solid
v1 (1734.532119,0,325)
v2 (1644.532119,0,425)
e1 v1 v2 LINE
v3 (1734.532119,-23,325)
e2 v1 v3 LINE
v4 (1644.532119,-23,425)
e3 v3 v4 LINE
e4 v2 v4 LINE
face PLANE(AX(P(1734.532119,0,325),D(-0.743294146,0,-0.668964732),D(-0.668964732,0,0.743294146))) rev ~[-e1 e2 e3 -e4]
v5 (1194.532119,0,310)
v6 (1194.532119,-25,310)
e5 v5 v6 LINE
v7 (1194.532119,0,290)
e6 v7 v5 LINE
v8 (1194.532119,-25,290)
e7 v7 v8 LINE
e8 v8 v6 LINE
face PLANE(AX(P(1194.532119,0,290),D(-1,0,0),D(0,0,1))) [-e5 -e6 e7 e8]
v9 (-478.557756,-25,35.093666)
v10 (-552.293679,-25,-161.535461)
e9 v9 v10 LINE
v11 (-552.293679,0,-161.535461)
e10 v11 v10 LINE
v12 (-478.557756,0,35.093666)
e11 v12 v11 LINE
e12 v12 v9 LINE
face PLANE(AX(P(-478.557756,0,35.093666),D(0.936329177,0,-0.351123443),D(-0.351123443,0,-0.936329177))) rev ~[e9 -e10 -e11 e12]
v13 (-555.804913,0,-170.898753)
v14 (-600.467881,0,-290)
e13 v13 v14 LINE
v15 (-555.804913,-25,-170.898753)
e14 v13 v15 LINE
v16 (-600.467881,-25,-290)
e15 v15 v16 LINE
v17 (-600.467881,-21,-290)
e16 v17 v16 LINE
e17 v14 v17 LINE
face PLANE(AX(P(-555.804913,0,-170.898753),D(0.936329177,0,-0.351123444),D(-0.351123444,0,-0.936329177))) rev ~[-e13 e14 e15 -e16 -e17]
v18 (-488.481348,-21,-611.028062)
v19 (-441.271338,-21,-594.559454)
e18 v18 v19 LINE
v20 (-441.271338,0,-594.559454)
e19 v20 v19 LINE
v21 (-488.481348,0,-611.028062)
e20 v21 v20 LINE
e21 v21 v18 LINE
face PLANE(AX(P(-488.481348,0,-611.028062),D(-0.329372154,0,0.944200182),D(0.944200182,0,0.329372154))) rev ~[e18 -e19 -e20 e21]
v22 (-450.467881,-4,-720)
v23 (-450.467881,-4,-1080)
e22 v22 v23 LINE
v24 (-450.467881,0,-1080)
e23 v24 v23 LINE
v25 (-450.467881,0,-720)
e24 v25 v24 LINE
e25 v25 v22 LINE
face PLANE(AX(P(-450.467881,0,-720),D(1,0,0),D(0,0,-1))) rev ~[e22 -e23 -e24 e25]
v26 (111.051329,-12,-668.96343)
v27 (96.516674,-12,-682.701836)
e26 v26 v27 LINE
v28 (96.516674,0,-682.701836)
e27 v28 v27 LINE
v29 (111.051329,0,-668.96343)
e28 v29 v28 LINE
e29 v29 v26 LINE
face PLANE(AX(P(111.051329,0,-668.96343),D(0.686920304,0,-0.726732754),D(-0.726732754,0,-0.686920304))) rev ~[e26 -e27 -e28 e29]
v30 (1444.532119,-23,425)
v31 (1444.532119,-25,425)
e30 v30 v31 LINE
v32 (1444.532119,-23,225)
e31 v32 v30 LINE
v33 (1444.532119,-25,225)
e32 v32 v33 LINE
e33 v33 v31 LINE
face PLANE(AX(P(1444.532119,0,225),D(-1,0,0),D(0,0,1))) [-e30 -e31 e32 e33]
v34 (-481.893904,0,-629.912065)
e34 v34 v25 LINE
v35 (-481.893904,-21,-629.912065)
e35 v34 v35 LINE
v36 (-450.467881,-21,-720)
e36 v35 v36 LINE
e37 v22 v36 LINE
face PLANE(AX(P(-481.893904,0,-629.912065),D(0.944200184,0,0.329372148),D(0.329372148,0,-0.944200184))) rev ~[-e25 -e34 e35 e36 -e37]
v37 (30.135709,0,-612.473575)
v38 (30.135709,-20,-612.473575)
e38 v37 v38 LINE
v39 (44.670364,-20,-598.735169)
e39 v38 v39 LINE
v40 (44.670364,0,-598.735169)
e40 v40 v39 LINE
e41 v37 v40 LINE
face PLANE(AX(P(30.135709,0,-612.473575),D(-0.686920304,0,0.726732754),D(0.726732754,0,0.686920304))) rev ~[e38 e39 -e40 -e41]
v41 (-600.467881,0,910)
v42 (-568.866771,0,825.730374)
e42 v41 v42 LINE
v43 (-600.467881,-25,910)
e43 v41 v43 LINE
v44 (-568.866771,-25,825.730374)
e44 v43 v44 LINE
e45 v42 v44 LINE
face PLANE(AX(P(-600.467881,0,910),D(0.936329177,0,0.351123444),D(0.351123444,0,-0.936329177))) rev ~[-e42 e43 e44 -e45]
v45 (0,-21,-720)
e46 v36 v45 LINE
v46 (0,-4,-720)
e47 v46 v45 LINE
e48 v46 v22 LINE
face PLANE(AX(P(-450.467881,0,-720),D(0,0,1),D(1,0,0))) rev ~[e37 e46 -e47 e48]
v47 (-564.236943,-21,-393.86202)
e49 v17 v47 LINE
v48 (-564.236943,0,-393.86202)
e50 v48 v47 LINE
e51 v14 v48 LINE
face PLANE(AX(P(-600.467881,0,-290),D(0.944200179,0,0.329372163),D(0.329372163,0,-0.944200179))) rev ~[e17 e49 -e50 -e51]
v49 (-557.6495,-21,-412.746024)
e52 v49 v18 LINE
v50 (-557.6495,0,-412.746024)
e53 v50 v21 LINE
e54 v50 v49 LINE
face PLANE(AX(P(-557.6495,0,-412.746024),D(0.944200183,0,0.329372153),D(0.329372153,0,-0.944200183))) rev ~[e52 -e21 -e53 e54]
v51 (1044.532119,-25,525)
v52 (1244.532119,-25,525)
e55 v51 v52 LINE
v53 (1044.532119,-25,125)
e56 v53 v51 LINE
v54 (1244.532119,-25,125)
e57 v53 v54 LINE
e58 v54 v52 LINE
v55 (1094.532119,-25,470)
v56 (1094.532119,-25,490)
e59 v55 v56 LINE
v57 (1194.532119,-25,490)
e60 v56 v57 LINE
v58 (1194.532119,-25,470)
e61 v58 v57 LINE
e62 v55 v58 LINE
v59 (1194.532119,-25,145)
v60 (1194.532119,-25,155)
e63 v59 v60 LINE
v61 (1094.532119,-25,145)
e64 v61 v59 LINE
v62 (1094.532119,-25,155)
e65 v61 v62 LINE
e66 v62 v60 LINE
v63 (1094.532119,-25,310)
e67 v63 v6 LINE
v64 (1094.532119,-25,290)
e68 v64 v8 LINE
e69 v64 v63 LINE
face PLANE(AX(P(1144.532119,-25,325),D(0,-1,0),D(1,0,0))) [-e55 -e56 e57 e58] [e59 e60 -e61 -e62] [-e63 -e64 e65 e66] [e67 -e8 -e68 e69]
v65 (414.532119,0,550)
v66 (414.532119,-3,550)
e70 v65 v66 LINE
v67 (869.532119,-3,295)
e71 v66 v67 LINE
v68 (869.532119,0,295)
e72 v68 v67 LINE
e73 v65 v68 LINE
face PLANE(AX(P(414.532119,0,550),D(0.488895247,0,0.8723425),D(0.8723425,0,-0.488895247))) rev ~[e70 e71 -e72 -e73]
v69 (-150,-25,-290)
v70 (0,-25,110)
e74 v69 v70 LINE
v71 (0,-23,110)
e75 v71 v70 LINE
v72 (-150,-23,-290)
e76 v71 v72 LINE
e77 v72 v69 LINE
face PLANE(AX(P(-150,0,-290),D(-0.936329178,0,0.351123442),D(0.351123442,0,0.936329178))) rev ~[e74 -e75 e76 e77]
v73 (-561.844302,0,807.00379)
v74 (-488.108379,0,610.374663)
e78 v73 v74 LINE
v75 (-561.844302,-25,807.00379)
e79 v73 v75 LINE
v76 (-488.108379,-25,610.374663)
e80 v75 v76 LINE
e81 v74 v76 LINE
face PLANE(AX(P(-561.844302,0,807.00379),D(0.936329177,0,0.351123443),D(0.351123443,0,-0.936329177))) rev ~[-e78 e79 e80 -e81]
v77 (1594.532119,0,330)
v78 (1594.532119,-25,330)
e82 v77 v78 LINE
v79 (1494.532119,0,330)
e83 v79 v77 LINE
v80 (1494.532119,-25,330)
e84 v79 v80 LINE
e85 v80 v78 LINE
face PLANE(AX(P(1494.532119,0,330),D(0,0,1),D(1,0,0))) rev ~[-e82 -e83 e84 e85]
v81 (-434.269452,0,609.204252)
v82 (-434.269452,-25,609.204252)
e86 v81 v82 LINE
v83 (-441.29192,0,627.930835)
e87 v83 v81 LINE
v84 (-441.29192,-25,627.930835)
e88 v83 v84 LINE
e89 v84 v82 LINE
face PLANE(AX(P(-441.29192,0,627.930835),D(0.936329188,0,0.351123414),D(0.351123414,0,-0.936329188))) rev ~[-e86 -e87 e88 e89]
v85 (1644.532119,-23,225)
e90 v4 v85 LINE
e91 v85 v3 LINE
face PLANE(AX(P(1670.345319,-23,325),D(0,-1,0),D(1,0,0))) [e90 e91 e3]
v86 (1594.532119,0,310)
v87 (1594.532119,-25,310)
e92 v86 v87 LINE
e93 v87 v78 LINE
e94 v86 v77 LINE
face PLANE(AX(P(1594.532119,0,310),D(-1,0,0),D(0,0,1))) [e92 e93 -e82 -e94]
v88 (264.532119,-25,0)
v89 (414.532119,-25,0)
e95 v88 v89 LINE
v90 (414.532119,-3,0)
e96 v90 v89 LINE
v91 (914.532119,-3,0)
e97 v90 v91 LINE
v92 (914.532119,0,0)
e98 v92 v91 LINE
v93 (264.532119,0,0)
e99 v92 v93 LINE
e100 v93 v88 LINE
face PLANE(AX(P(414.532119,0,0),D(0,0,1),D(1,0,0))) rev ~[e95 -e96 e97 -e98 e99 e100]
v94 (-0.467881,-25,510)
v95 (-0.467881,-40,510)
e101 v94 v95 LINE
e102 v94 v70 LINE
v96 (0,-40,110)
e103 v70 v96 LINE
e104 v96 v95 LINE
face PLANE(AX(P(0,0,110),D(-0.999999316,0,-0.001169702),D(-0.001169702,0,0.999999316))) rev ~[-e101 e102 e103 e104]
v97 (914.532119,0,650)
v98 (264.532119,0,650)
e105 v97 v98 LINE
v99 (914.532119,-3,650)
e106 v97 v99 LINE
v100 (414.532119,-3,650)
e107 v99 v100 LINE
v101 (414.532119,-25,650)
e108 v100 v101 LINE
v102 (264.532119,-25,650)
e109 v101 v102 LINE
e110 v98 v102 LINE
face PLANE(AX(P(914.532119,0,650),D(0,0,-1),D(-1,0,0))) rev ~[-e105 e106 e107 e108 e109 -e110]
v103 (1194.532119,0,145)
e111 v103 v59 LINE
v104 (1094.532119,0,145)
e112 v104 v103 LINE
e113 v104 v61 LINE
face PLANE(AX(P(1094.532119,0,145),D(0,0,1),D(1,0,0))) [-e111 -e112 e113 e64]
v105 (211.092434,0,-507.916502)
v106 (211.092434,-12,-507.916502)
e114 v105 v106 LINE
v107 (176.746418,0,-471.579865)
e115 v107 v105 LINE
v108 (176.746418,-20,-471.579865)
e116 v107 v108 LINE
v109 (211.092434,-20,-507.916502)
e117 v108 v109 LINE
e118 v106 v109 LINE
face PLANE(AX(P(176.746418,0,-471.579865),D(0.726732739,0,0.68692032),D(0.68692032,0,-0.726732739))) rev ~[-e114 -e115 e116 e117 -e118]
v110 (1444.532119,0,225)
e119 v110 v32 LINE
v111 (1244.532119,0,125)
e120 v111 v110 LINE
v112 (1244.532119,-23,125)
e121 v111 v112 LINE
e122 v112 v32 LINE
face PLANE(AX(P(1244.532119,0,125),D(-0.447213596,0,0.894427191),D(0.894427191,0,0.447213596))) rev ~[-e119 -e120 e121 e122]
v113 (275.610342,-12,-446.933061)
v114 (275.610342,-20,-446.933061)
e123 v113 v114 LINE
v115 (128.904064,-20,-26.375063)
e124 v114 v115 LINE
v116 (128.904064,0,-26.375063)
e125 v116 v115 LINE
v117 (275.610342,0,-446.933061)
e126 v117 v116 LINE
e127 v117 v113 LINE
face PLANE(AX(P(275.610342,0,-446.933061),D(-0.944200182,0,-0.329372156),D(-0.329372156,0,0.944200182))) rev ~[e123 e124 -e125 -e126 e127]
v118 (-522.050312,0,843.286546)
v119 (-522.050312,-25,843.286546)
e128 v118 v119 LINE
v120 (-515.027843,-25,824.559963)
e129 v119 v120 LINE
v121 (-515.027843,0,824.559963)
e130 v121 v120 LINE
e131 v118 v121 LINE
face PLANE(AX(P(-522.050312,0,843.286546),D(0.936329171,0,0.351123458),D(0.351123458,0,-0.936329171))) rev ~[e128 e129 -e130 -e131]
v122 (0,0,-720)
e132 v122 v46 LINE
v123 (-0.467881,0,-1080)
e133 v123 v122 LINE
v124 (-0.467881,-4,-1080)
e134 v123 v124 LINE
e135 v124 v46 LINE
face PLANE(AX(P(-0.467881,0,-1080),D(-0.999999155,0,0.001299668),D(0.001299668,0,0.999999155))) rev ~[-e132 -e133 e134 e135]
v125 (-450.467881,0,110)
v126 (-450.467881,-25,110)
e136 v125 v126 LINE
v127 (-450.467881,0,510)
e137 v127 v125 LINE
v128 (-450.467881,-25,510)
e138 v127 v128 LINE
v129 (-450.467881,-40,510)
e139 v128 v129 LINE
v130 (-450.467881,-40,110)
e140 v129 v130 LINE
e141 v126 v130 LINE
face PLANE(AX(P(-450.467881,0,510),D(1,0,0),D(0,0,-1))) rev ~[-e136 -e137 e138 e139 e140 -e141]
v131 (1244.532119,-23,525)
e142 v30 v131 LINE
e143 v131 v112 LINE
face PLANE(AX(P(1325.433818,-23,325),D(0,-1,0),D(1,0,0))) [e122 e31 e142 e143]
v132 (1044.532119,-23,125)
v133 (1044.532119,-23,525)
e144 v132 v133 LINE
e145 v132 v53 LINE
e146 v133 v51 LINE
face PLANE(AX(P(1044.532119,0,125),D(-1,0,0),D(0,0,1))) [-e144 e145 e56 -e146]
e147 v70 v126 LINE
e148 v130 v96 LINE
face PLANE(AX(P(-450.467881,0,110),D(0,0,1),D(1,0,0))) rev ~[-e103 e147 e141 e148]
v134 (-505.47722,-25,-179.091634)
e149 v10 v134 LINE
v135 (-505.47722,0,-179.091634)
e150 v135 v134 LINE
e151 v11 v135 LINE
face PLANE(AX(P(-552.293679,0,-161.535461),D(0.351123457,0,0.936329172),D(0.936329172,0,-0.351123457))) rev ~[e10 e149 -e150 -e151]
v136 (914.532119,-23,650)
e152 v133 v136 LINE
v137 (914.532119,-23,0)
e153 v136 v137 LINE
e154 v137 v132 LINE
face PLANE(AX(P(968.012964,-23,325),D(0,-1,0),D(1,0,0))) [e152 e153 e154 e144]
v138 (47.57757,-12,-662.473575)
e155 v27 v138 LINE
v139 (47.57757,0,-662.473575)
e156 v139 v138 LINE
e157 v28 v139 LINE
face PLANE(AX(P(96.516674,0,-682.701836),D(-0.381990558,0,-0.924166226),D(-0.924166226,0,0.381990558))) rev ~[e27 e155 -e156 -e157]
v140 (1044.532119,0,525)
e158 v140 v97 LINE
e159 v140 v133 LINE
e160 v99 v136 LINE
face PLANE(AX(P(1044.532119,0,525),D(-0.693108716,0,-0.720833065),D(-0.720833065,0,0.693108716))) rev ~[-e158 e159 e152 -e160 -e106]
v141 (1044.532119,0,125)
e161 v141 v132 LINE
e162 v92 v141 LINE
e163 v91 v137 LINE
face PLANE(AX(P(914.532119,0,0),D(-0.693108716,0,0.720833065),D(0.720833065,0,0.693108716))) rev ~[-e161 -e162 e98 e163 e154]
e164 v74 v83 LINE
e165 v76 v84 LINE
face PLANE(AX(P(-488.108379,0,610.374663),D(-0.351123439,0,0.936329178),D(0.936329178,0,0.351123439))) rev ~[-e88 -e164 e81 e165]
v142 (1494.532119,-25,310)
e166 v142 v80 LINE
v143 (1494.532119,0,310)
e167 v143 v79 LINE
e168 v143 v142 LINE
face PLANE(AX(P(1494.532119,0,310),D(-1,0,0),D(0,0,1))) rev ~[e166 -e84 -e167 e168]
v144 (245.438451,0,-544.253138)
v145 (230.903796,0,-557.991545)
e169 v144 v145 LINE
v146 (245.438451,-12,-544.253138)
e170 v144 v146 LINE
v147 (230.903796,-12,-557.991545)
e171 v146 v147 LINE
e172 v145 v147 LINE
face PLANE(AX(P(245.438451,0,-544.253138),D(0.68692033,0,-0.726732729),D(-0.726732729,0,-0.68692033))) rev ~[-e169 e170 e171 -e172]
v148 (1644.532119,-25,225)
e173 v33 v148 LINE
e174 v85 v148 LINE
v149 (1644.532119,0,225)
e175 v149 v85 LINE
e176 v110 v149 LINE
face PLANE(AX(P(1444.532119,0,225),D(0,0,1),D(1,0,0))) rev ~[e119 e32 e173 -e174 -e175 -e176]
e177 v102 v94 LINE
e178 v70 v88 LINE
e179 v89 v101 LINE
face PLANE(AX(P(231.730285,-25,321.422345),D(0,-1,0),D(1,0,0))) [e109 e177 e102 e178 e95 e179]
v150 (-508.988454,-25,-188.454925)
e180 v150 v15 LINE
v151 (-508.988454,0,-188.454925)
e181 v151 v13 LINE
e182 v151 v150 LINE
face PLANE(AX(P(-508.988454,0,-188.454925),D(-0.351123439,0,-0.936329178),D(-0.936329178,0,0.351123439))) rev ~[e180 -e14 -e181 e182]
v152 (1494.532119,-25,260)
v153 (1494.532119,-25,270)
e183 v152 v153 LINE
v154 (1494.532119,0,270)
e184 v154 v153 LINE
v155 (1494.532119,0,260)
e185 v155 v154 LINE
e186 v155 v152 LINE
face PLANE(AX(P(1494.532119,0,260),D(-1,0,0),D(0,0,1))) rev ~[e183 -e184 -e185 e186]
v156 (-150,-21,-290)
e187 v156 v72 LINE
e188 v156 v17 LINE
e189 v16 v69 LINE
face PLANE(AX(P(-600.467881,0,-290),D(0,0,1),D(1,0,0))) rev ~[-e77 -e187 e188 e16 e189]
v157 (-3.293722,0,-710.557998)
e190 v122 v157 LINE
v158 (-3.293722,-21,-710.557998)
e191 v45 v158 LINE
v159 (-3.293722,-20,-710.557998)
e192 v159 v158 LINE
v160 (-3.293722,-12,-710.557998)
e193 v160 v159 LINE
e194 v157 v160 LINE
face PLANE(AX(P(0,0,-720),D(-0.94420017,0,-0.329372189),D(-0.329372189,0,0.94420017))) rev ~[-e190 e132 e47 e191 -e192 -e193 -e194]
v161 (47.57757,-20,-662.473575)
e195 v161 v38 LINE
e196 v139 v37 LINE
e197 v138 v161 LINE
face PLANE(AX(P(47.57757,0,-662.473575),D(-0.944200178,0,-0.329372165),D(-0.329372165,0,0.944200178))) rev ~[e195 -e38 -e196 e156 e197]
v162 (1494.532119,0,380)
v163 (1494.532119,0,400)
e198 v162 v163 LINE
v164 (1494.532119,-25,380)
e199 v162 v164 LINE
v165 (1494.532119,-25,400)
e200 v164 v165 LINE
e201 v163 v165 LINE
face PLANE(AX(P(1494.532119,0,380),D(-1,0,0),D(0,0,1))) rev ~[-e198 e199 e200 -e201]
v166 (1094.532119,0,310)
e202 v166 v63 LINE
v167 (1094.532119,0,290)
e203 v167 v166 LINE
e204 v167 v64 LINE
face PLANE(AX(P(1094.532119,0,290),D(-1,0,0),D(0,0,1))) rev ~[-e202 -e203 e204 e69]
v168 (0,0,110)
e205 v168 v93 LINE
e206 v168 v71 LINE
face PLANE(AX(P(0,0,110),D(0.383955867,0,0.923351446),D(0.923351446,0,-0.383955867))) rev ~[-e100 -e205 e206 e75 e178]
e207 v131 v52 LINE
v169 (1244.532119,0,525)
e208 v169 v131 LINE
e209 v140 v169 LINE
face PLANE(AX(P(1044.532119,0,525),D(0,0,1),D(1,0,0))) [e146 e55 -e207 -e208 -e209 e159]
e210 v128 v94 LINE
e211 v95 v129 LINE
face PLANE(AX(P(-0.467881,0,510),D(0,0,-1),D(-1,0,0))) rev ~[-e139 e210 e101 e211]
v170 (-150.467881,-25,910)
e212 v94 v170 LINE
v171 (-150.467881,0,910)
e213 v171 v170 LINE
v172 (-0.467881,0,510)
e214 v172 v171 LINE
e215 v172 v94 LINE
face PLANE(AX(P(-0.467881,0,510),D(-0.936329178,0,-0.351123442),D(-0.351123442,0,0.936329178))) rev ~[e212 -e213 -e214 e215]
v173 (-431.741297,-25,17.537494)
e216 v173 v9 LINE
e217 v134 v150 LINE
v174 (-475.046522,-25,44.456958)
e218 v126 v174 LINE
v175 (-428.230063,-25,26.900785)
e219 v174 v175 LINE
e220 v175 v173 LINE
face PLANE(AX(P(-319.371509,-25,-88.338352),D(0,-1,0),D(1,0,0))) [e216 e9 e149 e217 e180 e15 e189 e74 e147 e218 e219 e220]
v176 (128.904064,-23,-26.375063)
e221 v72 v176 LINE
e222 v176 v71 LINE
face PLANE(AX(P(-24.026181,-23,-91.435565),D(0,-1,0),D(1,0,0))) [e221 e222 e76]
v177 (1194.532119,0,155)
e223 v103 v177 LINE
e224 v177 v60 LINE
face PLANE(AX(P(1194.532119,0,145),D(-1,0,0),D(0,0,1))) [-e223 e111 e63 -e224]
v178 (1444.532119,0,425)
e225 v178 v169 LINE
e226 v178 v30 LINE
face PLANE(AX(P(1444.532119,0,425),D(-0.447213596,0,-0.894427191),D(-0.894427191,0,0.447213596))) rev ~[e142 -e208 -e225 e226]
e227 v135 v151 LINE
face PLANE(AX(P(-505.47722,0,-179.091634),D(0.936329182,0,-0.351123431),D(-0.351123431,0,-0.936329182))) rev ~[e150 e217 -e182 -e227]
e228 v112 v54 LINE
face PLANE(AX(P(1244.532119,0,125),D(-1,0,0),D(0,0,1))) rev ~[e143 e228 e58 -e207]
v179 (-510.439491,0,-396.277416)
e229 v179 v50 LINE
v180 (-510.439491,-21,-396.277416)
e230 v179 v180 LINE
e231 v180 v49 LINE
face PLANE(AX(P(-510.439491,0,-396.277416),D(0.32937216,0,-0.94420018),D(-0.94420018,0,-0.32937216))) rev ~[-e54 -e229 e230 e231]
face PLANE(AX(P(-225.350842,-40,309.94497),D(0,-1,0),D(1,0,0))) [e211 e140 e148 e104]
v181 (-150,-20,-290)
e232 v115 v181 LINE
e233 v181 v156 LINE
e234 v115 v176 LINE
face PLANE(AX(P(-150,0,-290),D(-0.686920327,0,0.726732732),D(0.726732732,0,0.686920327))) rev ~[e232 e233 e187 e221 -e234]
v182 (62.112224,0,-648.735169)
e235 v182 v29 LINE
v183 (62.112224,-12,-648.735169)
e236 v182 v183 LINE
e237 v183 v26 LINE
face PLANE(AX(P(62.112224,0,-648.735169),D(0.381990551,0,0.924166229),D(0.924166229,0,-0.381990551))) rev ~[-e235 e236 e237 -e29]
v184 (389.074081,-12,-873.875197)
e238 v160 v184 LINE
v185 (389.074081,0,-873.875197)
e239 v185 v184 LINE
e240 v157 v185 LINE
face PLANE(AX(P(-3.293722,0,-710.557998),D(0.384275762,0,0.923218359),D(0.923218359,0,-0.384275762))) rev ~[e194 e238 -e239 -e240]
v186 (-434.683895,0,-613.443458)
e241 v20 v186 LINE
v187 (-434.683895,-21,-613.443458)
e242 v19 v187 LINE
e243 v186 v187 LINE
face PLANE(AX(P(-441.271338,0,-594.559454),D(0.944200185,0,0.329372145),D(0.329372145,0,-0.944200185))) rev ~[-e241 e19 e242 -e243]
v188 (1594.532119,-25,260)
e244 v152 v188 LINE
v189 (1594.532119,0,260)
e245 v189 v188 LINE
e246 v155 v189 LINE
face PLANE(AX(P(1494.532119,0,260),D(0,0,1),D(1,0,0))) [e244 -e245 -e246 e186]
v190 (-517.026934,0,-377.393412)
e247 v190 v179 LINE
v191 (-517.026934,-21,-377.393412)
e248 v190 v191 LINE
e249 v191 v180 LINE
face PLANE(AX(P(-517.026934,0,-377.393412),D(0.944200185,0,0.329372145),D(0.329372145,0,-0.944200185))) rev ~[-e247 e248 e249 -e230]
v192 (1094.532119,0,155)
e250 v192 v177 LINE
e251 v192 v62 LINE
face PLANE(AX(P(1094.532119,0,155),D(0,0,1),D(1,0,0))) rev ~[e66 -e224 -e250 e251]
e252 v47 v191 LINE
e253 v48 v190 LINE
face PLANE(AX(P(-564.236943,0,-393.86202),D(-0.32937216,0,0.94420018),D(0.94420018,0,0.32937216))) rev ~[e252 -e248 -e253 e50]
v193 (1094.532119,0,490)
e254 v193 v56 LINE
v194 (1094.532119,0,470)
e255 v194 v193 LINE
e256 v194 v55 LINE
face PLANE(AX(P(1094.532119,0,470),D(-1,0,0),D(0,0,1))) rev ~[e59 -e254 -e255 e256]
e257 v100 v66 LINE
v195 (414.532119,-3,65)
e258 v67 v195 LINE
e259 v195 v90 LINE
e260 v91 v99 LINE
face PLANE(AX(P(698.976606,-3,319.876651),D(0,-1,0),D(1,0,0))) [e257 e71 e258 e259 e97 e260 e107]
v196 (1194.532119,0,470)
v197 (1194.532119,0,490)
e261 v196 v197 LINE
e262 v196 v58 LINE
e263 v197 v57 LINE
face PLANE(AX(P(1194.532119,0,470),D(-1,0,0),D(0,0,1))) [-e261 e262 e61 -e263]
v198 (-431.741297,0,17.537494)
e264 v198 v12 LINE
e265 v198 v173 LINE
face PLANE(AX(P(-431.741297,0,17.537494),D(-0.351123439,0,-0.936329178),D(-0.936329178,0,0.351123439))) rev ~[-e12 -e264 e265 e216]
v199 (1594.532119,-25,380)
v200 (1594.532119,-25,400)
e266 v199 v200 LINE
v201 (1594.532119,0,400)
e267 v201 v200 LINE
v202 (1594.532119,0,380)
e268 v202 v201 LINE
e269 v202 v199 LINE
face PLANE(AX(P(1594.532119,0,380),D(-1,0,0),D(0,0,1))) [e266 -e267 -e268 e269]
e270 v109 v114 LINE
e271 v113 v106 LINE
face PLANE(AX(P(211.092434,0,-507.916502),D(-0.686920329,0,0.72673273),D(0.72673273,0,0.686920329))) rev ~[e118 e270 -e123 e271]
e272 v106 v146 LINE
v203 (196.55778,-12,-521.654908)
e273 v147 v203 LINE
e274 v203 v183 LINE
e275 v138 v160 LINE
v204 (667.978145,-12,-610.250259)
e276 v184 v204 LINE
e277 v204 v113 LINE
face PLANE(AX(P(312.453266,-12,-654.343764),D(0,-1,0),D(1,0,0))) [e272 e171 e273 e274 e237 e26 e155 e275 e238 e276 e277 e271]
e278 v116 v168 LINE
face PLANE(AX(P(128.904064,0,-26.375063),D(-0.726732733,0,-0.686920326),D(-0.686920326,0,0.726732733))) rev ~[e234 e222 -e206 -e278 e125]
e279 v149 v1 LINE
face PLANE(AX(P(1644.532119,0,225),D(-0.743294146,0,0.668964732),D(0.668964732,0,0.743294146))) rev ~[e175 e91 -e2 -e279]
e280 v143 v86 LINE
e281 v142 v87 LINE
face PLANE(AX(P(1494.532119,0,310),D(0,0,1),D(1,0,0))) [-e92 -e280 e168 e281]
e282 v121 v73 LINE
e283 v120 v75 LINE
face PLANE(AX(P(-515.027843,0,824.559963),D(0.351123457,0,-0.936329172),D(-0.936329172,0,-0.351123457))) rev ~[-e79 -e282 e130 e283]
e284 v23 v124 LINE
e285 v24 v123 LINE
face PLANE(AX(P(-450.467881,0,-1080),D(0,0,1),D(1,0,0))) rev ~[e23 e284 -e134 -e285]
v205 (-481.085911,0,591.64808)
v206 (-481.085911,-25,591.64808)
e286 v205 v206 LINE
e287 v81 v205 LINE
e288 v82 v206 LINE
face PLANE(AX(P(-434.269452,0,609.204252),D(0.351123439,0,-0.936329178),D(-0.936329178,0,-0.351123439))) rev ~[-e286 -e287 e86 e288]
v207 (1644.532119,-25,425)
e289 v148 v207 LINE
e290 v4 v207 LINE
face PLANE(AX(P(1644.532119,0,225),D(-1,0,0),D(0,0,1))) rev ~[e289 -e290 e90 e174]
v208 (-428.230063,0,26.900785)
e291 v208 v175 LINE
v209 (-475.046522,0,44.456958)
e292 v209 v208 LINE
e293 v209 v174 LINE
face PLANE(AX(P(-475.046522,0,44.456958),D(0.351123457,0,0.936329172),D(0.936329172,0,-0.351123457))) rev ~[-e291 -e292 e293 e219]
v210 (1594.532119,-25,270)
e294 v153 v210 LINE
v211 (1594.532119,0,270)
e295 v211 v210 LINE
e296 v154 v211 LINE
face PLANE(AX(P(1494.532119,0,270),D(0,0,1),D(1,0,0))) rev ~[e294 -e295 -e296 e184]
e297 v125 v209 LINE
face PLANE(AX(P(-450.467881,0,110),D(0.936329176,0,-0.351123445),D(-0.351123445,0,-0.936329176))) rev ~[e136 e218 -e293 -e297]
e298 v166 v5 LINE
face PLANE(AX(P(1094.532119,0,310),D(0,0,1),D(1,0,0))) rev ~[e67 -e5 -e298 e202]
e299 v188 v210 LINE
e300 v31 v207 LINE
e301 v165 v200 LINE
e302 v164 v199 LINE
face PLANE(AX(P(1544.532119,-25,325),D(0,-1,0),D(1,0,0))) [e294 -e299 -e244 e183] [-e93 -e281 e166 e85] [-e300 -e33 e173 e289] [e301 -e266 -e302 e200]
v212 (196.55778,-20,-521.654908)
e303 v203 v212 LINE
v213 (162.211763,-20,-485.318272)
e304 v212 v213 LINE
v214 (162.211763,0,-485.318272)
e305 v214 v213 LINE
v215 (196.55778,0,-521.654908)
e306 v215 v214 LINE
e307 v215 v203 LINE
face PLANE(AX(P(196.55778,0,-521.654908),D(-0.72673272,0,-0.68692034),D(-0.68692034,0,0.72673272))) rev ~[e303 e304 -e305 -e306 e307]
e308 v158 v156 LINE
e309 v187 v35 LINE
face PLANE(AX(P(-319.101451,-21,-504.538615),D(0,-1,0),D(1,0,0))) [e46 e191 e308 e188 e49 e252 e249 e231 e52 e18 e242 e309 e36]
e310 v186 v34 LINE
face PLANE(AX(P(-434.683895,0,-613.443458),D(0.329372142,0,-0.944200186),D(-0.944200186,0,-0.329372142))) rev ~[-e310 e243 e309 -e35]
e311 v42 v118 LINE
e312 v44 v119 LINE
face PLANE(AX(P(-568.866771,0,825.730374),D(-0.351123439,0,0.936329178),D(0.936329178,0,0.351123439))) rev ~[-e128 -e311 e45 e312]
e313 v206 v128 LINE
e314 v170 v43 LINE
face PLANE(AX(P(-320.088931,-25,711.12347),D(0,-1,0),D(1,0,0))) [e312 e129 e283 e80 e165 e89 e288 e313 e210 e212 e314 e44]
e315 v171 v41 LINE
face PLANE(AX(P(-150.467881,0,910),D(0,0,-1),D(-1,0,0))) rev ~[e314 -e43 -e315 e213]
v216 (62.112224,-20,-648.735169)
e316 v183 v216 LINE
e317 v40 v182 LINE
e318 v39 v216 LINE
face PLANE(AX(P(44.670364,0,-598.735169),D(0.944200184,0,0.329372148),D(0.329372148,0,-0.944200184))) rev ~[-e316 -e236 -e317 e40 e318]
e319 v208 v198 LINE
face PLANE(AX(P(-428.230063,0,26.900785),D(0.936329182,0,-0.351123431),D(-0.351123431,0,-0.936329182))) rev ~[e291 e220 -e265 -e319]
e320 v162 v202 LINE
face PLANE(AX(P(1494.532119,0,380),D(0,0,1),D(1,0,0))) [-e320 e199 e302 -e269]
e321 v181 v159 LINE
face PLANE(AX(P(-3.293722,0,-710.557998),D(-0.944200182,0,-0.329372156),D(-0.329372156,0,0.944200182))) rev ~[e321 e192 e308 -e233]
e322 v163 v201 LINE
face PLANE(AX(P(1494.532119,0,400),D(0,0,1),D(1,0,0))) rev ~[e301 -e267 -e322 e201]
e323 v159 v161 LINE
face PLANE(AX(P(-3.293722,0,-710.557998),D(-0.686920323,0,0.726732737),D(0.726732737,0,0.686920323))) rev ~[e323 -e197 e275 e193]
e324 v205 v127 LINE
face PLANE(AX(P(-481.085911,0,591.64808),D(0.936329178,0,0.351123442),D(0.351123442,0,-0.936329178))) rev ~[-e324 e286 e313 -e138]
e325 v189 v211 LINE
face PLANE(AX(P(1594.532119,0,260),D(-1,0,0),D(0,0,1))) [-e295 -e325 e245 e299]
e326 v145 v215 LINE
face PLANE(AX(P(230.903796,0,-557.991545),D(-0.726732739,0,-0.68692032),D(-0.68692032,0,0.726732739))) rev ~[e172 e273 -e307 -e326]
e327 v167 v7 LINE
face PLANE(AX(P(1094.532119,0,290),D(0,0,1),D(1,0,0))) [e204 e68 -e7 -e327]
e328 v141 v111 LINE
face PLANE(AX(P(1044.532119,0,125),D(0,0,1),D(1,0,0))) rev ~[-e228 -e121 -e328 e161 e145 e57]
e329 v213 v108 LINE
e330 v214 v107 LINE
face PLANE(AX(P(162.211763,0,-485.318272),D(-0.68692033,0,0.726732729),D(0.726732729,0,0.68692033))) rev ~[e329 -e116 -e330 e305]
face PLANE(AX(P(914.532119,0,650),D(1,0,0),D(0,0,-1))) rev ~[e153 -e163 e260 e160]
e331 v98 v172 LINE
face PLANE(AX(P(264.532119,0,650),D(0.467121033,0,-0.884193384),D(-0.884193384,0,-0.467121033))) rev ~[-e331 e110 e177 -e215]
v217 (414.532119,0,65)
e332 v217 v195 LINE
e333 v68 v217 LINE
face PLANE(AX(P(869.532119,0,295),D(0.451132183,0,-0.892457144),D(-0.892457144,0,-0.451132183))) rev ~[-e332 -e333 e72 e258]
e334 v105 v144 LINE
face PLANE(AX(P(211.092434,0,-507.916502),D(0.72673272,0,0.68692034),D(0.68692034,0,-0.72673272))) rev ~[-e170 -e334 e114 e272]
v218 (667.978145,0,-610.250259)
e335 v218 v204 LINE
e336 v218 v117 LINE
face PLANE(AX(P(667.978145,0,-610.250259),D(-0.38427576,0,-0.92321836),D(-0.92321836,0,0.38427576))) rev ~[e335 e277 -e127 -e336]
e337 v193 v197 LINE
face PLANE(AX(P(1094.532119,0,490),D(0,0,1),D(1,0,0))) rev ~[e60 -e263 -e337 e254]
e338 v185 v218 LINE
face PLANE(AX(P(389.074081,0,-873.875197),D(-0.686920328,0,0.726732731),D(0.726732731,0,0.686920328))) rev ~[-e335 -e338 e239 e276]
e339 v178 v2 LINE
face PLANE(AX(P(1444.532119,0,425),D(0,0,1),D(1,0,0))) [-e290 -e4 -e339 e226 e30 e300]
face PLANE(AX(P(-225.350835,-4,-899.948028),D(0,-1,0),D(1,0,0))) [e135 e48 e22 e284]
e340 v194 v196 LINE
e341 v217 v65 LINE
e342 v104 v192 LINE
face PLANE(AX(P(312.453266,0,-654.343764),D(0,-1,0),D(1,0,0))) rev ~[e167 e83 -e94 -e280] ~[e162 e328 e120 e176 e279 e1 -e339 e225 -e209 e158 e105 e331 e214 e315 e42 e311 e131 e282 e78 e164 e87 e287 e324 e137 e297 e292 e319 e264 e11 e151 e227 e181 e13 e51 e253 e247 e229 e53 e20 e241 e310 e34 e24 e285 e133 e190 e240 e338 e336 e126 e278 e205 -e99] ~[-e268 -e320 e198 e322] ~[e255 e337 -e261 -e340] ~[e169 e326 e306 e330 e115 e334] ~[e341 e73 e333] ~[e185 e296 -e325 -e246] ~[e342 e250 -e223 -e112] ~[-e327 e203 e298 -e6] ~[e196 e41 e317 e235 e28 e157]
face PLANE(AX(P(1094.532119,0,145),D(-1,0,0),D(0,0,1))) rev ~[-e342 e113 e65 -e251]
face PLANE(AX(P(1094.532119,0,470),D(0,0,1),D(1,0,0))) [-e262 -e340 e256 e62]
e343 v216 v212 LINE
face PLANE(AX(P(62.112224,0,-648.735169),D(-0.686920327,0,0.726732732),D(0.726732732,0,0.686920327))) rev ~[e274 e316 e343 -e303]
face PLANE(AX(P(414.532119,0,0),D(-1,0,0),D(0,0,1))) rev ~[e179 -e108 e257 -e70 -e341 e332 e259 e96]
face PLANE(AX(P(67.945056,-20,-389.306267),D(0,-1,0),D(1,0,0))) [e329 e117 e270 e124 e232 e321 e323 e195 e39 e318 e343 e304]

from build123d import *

# Parameters (mm, degrees)
F1_DEPTH  = 25
F2_DEPTH  = 40
F3_DEPTH  = 25
F4_DEPTH  = 21
F5_DEPTH  = 4
F6_DEPTH  = 25
F7_DEPTH  = 3
F8_DEPTH  = 23
F0_W      = 200
F0_H      = 400
F0_W_2    = 100
F0_H_2    = 10
F0_H_3    = 20
F9_DEPTH  = 25
F10_DEPTH = 23
F0_H_4    = 200
F11_DEPTH = 25
F12_DEPTH = 23
F13_DEPTH = 23
F14_DEPTH = 20
F15_DEPTH = 12


with BuildPart() as f1:
    # F0 (on Front) → F1 (new body)
    with BuildSketch(Plane.XZ):
        Polygon((-150.467881, 910), (-600.467881, 910), (-568.866771, 825.730374), (-522.050312, 843.286546), (-515.027843, 824.559963), (-561.844302, 807.00379), (-488.108379, 610.374663), (-441.29192, 627.930835), (-434.269452, 609.204252), (-481.085911, 591.64808), (-450.467881, 510), (-0.467881, 510), align=None)
    extrude(amount=F1_DEPTH)

    # F0 (on Front) → F2 (join)
    with BuildSketch(Plane.XZ):
        Polygon((0, 110), (-0.467881, 510), (-450.467881, 510), (-450.467881, 110), align=None)
    extrude(amount=F2_DEPTH)

    # F0 (on Front) → F3 (join)
    with BuildSketch(Plane.XZ):
        Polygon((-150, -290), (0, 110), (-450.467881, 110), (-475.046522, 44.456958), (-428.230063, 26.900785), (-431.741297, 17.537494), (-478.557756, 35.093666), (-552.293679, -161.535461), (-505.47722, -179.091634), (-508.988454, -188.454925), (-555.804913, -170.898753), (-600.467881, -290), align=None)
    extrude(amount=F3_DEPTH)

    # F0 (on Front) → F4 (join)
    with BuildSketch(Plane.XZ):
        Polygon((-3.293722, -710.557998), (-150, -290), (-600.467881, -290), (-564.236943, -393.86202), (-517.026934, -377.393412), (-510.439491, -396.277416), (-557.6495, -412.746024), (-488.481348, -611.028062), (-441.271338, -594.559454), (-434.683895, -613.443458), (-481.893904, -629.912065), (-450.467881, -720), (0, -720), align=None)
    extrude(amount=F4_DEPTH)

    # F0 (on Front) → F5 (join)
    with BuildSketch(Plane.XZ):
        Polygon((-0.467881, -1080), (0, -720), (-450.467881, -720), (-450.467881, -1080), align=None)
    extrude(amount=F5_DEPTH)

    # F0 (on Front) → F6 (join)
    with BuildSketch(Plane.XZ):
        Polygon((264.532119, 650), (-0.467881, 510), (0, 110), (264.532119, 0), (414.532119, 0), (414.532119, 65), (414.532119, 550), (414.532119, 650), align=None)
    extrude(amount=F6_DEPTH)

    # F0 (on Front) → F7 (join)
    with BuildSketch(Plane.XZ):
        Polygon((914.532119, 650), (414.532119, 650), (414.532119, 550), (869.532119, 295), (414.532119, 65), (414.532119, 0), (914.532119, 0), align=None)
    extrude(amount=F7_DEPTH)

    # F0 (on Front) → F8 (join)
    with BuildSketch(Plane.XZ):
        Polygon((1044.532119, 525), (914.532119, 650), (914.532119, 0), (1044.532119, 125), align=None)
    extrude(amount=F8_DEPTH)

    # F0 (on Front) → F9 (join)
    with BuildSketch(Plane.XZ):
        with Locations((1144.532119, 325)):
            Rectangle(F0_W, F0_H)
        with Locations((1144.532119, 150)):
            Rectangle(F0_W_2, F0_H_2, mode=Mode.SUBTRACT)
        with Locations((1144.532119, 300)):
            Rectangle(F0_W_2, F0_H_3, mode=Mode.SUBTRACT)
        with Locations((1144.532119, 480)):
            Rectangle(F0_W_2, F0_H_3, mode=Mode.SUBTRACT)
    extrude(amount=F9_DEPTH)

    # F0 (on Front) → F10 (join)
    with BuildSketch(Plane.XZ):
        Polygon((1444.532119, 425), (1244.532119, 525), (1244.532119, 125), (1444.532119, 225), align=None)
    extrude(amount=F10_DEPTH)

    # F0 (on Front) → F11 (join)
    with BuildSketch(Plane.XZ):
        with Locations((1544.532119, 325)):
            Rectangle(F0_W, F0_H_4)
        with Locations((1544.532119, 265)):
            Rectangle(F0_W_2, F0_H_2, mode=Mode.SUBTRACT)
        with Locations((1544.532119, 320)):
            Rectangle(F0_W_2, F0_H_3, mode=Mode.SUBTRACT)
        with Locations((1544.532119, 390)):
            Rectangle(F0_W_2, F0_H_3, mode=Mode.SUBTRACT)
    extrude(amount=F11_DEPTH)

    # F0 (on Front) → F12 (join)
    with BuildSketch(Plane.XZ):
        Polygon((1734.532119, 325), (1644.532119, 425), (1644.532119, 225), align=None)
    extrude(amount=F12_DEPTH)

    # F0 (on Front) → F13 (join)
    with BuildSketch(Plane.XZ):
        Polygon((128.904064, -26.375063), (0, 110), (-150, -290), align=None)
    extrude(amount=F13_DEPTH)

    # F0 (on Front) → F14 (join)
    with BuildSketch(Plane.XZ):
        Polygon((128.904064, -26.375063), (-150, -290), (-3.293722, -710.557998), (47.57757, -662.473575), (30.135709, -612.473575), (44.670364, -598.735169), (62.112224, -648.735169), (196.55778, -521.654908), (162.211763, -485.318272), (176.746418, -471.579865), (211.092434, -507.916502), (275.610342, -446.933061), align=None)
    extrude(amount=F14_DEPTH)

    # F0 (on Front) → F15 (join)
    with BuildSketch(Plane.XZ):
        Polygon((47.57757, -662.473575), (-3.293722, -710.557998), (389.074081, -873.875197), (667.978145, -610.250259), (275.610342, -446.933061), (211.092434, -507.916502), (245.438451, -544.253138), (230.903796, -557.991545), (196.55778, -521.654908), (62.112224, -648.735169), (111.051329, -668.96343), (96.516674, -682.701836), align=None)
    extrude(amount=F15_DEPTH)


solid = f1.part
